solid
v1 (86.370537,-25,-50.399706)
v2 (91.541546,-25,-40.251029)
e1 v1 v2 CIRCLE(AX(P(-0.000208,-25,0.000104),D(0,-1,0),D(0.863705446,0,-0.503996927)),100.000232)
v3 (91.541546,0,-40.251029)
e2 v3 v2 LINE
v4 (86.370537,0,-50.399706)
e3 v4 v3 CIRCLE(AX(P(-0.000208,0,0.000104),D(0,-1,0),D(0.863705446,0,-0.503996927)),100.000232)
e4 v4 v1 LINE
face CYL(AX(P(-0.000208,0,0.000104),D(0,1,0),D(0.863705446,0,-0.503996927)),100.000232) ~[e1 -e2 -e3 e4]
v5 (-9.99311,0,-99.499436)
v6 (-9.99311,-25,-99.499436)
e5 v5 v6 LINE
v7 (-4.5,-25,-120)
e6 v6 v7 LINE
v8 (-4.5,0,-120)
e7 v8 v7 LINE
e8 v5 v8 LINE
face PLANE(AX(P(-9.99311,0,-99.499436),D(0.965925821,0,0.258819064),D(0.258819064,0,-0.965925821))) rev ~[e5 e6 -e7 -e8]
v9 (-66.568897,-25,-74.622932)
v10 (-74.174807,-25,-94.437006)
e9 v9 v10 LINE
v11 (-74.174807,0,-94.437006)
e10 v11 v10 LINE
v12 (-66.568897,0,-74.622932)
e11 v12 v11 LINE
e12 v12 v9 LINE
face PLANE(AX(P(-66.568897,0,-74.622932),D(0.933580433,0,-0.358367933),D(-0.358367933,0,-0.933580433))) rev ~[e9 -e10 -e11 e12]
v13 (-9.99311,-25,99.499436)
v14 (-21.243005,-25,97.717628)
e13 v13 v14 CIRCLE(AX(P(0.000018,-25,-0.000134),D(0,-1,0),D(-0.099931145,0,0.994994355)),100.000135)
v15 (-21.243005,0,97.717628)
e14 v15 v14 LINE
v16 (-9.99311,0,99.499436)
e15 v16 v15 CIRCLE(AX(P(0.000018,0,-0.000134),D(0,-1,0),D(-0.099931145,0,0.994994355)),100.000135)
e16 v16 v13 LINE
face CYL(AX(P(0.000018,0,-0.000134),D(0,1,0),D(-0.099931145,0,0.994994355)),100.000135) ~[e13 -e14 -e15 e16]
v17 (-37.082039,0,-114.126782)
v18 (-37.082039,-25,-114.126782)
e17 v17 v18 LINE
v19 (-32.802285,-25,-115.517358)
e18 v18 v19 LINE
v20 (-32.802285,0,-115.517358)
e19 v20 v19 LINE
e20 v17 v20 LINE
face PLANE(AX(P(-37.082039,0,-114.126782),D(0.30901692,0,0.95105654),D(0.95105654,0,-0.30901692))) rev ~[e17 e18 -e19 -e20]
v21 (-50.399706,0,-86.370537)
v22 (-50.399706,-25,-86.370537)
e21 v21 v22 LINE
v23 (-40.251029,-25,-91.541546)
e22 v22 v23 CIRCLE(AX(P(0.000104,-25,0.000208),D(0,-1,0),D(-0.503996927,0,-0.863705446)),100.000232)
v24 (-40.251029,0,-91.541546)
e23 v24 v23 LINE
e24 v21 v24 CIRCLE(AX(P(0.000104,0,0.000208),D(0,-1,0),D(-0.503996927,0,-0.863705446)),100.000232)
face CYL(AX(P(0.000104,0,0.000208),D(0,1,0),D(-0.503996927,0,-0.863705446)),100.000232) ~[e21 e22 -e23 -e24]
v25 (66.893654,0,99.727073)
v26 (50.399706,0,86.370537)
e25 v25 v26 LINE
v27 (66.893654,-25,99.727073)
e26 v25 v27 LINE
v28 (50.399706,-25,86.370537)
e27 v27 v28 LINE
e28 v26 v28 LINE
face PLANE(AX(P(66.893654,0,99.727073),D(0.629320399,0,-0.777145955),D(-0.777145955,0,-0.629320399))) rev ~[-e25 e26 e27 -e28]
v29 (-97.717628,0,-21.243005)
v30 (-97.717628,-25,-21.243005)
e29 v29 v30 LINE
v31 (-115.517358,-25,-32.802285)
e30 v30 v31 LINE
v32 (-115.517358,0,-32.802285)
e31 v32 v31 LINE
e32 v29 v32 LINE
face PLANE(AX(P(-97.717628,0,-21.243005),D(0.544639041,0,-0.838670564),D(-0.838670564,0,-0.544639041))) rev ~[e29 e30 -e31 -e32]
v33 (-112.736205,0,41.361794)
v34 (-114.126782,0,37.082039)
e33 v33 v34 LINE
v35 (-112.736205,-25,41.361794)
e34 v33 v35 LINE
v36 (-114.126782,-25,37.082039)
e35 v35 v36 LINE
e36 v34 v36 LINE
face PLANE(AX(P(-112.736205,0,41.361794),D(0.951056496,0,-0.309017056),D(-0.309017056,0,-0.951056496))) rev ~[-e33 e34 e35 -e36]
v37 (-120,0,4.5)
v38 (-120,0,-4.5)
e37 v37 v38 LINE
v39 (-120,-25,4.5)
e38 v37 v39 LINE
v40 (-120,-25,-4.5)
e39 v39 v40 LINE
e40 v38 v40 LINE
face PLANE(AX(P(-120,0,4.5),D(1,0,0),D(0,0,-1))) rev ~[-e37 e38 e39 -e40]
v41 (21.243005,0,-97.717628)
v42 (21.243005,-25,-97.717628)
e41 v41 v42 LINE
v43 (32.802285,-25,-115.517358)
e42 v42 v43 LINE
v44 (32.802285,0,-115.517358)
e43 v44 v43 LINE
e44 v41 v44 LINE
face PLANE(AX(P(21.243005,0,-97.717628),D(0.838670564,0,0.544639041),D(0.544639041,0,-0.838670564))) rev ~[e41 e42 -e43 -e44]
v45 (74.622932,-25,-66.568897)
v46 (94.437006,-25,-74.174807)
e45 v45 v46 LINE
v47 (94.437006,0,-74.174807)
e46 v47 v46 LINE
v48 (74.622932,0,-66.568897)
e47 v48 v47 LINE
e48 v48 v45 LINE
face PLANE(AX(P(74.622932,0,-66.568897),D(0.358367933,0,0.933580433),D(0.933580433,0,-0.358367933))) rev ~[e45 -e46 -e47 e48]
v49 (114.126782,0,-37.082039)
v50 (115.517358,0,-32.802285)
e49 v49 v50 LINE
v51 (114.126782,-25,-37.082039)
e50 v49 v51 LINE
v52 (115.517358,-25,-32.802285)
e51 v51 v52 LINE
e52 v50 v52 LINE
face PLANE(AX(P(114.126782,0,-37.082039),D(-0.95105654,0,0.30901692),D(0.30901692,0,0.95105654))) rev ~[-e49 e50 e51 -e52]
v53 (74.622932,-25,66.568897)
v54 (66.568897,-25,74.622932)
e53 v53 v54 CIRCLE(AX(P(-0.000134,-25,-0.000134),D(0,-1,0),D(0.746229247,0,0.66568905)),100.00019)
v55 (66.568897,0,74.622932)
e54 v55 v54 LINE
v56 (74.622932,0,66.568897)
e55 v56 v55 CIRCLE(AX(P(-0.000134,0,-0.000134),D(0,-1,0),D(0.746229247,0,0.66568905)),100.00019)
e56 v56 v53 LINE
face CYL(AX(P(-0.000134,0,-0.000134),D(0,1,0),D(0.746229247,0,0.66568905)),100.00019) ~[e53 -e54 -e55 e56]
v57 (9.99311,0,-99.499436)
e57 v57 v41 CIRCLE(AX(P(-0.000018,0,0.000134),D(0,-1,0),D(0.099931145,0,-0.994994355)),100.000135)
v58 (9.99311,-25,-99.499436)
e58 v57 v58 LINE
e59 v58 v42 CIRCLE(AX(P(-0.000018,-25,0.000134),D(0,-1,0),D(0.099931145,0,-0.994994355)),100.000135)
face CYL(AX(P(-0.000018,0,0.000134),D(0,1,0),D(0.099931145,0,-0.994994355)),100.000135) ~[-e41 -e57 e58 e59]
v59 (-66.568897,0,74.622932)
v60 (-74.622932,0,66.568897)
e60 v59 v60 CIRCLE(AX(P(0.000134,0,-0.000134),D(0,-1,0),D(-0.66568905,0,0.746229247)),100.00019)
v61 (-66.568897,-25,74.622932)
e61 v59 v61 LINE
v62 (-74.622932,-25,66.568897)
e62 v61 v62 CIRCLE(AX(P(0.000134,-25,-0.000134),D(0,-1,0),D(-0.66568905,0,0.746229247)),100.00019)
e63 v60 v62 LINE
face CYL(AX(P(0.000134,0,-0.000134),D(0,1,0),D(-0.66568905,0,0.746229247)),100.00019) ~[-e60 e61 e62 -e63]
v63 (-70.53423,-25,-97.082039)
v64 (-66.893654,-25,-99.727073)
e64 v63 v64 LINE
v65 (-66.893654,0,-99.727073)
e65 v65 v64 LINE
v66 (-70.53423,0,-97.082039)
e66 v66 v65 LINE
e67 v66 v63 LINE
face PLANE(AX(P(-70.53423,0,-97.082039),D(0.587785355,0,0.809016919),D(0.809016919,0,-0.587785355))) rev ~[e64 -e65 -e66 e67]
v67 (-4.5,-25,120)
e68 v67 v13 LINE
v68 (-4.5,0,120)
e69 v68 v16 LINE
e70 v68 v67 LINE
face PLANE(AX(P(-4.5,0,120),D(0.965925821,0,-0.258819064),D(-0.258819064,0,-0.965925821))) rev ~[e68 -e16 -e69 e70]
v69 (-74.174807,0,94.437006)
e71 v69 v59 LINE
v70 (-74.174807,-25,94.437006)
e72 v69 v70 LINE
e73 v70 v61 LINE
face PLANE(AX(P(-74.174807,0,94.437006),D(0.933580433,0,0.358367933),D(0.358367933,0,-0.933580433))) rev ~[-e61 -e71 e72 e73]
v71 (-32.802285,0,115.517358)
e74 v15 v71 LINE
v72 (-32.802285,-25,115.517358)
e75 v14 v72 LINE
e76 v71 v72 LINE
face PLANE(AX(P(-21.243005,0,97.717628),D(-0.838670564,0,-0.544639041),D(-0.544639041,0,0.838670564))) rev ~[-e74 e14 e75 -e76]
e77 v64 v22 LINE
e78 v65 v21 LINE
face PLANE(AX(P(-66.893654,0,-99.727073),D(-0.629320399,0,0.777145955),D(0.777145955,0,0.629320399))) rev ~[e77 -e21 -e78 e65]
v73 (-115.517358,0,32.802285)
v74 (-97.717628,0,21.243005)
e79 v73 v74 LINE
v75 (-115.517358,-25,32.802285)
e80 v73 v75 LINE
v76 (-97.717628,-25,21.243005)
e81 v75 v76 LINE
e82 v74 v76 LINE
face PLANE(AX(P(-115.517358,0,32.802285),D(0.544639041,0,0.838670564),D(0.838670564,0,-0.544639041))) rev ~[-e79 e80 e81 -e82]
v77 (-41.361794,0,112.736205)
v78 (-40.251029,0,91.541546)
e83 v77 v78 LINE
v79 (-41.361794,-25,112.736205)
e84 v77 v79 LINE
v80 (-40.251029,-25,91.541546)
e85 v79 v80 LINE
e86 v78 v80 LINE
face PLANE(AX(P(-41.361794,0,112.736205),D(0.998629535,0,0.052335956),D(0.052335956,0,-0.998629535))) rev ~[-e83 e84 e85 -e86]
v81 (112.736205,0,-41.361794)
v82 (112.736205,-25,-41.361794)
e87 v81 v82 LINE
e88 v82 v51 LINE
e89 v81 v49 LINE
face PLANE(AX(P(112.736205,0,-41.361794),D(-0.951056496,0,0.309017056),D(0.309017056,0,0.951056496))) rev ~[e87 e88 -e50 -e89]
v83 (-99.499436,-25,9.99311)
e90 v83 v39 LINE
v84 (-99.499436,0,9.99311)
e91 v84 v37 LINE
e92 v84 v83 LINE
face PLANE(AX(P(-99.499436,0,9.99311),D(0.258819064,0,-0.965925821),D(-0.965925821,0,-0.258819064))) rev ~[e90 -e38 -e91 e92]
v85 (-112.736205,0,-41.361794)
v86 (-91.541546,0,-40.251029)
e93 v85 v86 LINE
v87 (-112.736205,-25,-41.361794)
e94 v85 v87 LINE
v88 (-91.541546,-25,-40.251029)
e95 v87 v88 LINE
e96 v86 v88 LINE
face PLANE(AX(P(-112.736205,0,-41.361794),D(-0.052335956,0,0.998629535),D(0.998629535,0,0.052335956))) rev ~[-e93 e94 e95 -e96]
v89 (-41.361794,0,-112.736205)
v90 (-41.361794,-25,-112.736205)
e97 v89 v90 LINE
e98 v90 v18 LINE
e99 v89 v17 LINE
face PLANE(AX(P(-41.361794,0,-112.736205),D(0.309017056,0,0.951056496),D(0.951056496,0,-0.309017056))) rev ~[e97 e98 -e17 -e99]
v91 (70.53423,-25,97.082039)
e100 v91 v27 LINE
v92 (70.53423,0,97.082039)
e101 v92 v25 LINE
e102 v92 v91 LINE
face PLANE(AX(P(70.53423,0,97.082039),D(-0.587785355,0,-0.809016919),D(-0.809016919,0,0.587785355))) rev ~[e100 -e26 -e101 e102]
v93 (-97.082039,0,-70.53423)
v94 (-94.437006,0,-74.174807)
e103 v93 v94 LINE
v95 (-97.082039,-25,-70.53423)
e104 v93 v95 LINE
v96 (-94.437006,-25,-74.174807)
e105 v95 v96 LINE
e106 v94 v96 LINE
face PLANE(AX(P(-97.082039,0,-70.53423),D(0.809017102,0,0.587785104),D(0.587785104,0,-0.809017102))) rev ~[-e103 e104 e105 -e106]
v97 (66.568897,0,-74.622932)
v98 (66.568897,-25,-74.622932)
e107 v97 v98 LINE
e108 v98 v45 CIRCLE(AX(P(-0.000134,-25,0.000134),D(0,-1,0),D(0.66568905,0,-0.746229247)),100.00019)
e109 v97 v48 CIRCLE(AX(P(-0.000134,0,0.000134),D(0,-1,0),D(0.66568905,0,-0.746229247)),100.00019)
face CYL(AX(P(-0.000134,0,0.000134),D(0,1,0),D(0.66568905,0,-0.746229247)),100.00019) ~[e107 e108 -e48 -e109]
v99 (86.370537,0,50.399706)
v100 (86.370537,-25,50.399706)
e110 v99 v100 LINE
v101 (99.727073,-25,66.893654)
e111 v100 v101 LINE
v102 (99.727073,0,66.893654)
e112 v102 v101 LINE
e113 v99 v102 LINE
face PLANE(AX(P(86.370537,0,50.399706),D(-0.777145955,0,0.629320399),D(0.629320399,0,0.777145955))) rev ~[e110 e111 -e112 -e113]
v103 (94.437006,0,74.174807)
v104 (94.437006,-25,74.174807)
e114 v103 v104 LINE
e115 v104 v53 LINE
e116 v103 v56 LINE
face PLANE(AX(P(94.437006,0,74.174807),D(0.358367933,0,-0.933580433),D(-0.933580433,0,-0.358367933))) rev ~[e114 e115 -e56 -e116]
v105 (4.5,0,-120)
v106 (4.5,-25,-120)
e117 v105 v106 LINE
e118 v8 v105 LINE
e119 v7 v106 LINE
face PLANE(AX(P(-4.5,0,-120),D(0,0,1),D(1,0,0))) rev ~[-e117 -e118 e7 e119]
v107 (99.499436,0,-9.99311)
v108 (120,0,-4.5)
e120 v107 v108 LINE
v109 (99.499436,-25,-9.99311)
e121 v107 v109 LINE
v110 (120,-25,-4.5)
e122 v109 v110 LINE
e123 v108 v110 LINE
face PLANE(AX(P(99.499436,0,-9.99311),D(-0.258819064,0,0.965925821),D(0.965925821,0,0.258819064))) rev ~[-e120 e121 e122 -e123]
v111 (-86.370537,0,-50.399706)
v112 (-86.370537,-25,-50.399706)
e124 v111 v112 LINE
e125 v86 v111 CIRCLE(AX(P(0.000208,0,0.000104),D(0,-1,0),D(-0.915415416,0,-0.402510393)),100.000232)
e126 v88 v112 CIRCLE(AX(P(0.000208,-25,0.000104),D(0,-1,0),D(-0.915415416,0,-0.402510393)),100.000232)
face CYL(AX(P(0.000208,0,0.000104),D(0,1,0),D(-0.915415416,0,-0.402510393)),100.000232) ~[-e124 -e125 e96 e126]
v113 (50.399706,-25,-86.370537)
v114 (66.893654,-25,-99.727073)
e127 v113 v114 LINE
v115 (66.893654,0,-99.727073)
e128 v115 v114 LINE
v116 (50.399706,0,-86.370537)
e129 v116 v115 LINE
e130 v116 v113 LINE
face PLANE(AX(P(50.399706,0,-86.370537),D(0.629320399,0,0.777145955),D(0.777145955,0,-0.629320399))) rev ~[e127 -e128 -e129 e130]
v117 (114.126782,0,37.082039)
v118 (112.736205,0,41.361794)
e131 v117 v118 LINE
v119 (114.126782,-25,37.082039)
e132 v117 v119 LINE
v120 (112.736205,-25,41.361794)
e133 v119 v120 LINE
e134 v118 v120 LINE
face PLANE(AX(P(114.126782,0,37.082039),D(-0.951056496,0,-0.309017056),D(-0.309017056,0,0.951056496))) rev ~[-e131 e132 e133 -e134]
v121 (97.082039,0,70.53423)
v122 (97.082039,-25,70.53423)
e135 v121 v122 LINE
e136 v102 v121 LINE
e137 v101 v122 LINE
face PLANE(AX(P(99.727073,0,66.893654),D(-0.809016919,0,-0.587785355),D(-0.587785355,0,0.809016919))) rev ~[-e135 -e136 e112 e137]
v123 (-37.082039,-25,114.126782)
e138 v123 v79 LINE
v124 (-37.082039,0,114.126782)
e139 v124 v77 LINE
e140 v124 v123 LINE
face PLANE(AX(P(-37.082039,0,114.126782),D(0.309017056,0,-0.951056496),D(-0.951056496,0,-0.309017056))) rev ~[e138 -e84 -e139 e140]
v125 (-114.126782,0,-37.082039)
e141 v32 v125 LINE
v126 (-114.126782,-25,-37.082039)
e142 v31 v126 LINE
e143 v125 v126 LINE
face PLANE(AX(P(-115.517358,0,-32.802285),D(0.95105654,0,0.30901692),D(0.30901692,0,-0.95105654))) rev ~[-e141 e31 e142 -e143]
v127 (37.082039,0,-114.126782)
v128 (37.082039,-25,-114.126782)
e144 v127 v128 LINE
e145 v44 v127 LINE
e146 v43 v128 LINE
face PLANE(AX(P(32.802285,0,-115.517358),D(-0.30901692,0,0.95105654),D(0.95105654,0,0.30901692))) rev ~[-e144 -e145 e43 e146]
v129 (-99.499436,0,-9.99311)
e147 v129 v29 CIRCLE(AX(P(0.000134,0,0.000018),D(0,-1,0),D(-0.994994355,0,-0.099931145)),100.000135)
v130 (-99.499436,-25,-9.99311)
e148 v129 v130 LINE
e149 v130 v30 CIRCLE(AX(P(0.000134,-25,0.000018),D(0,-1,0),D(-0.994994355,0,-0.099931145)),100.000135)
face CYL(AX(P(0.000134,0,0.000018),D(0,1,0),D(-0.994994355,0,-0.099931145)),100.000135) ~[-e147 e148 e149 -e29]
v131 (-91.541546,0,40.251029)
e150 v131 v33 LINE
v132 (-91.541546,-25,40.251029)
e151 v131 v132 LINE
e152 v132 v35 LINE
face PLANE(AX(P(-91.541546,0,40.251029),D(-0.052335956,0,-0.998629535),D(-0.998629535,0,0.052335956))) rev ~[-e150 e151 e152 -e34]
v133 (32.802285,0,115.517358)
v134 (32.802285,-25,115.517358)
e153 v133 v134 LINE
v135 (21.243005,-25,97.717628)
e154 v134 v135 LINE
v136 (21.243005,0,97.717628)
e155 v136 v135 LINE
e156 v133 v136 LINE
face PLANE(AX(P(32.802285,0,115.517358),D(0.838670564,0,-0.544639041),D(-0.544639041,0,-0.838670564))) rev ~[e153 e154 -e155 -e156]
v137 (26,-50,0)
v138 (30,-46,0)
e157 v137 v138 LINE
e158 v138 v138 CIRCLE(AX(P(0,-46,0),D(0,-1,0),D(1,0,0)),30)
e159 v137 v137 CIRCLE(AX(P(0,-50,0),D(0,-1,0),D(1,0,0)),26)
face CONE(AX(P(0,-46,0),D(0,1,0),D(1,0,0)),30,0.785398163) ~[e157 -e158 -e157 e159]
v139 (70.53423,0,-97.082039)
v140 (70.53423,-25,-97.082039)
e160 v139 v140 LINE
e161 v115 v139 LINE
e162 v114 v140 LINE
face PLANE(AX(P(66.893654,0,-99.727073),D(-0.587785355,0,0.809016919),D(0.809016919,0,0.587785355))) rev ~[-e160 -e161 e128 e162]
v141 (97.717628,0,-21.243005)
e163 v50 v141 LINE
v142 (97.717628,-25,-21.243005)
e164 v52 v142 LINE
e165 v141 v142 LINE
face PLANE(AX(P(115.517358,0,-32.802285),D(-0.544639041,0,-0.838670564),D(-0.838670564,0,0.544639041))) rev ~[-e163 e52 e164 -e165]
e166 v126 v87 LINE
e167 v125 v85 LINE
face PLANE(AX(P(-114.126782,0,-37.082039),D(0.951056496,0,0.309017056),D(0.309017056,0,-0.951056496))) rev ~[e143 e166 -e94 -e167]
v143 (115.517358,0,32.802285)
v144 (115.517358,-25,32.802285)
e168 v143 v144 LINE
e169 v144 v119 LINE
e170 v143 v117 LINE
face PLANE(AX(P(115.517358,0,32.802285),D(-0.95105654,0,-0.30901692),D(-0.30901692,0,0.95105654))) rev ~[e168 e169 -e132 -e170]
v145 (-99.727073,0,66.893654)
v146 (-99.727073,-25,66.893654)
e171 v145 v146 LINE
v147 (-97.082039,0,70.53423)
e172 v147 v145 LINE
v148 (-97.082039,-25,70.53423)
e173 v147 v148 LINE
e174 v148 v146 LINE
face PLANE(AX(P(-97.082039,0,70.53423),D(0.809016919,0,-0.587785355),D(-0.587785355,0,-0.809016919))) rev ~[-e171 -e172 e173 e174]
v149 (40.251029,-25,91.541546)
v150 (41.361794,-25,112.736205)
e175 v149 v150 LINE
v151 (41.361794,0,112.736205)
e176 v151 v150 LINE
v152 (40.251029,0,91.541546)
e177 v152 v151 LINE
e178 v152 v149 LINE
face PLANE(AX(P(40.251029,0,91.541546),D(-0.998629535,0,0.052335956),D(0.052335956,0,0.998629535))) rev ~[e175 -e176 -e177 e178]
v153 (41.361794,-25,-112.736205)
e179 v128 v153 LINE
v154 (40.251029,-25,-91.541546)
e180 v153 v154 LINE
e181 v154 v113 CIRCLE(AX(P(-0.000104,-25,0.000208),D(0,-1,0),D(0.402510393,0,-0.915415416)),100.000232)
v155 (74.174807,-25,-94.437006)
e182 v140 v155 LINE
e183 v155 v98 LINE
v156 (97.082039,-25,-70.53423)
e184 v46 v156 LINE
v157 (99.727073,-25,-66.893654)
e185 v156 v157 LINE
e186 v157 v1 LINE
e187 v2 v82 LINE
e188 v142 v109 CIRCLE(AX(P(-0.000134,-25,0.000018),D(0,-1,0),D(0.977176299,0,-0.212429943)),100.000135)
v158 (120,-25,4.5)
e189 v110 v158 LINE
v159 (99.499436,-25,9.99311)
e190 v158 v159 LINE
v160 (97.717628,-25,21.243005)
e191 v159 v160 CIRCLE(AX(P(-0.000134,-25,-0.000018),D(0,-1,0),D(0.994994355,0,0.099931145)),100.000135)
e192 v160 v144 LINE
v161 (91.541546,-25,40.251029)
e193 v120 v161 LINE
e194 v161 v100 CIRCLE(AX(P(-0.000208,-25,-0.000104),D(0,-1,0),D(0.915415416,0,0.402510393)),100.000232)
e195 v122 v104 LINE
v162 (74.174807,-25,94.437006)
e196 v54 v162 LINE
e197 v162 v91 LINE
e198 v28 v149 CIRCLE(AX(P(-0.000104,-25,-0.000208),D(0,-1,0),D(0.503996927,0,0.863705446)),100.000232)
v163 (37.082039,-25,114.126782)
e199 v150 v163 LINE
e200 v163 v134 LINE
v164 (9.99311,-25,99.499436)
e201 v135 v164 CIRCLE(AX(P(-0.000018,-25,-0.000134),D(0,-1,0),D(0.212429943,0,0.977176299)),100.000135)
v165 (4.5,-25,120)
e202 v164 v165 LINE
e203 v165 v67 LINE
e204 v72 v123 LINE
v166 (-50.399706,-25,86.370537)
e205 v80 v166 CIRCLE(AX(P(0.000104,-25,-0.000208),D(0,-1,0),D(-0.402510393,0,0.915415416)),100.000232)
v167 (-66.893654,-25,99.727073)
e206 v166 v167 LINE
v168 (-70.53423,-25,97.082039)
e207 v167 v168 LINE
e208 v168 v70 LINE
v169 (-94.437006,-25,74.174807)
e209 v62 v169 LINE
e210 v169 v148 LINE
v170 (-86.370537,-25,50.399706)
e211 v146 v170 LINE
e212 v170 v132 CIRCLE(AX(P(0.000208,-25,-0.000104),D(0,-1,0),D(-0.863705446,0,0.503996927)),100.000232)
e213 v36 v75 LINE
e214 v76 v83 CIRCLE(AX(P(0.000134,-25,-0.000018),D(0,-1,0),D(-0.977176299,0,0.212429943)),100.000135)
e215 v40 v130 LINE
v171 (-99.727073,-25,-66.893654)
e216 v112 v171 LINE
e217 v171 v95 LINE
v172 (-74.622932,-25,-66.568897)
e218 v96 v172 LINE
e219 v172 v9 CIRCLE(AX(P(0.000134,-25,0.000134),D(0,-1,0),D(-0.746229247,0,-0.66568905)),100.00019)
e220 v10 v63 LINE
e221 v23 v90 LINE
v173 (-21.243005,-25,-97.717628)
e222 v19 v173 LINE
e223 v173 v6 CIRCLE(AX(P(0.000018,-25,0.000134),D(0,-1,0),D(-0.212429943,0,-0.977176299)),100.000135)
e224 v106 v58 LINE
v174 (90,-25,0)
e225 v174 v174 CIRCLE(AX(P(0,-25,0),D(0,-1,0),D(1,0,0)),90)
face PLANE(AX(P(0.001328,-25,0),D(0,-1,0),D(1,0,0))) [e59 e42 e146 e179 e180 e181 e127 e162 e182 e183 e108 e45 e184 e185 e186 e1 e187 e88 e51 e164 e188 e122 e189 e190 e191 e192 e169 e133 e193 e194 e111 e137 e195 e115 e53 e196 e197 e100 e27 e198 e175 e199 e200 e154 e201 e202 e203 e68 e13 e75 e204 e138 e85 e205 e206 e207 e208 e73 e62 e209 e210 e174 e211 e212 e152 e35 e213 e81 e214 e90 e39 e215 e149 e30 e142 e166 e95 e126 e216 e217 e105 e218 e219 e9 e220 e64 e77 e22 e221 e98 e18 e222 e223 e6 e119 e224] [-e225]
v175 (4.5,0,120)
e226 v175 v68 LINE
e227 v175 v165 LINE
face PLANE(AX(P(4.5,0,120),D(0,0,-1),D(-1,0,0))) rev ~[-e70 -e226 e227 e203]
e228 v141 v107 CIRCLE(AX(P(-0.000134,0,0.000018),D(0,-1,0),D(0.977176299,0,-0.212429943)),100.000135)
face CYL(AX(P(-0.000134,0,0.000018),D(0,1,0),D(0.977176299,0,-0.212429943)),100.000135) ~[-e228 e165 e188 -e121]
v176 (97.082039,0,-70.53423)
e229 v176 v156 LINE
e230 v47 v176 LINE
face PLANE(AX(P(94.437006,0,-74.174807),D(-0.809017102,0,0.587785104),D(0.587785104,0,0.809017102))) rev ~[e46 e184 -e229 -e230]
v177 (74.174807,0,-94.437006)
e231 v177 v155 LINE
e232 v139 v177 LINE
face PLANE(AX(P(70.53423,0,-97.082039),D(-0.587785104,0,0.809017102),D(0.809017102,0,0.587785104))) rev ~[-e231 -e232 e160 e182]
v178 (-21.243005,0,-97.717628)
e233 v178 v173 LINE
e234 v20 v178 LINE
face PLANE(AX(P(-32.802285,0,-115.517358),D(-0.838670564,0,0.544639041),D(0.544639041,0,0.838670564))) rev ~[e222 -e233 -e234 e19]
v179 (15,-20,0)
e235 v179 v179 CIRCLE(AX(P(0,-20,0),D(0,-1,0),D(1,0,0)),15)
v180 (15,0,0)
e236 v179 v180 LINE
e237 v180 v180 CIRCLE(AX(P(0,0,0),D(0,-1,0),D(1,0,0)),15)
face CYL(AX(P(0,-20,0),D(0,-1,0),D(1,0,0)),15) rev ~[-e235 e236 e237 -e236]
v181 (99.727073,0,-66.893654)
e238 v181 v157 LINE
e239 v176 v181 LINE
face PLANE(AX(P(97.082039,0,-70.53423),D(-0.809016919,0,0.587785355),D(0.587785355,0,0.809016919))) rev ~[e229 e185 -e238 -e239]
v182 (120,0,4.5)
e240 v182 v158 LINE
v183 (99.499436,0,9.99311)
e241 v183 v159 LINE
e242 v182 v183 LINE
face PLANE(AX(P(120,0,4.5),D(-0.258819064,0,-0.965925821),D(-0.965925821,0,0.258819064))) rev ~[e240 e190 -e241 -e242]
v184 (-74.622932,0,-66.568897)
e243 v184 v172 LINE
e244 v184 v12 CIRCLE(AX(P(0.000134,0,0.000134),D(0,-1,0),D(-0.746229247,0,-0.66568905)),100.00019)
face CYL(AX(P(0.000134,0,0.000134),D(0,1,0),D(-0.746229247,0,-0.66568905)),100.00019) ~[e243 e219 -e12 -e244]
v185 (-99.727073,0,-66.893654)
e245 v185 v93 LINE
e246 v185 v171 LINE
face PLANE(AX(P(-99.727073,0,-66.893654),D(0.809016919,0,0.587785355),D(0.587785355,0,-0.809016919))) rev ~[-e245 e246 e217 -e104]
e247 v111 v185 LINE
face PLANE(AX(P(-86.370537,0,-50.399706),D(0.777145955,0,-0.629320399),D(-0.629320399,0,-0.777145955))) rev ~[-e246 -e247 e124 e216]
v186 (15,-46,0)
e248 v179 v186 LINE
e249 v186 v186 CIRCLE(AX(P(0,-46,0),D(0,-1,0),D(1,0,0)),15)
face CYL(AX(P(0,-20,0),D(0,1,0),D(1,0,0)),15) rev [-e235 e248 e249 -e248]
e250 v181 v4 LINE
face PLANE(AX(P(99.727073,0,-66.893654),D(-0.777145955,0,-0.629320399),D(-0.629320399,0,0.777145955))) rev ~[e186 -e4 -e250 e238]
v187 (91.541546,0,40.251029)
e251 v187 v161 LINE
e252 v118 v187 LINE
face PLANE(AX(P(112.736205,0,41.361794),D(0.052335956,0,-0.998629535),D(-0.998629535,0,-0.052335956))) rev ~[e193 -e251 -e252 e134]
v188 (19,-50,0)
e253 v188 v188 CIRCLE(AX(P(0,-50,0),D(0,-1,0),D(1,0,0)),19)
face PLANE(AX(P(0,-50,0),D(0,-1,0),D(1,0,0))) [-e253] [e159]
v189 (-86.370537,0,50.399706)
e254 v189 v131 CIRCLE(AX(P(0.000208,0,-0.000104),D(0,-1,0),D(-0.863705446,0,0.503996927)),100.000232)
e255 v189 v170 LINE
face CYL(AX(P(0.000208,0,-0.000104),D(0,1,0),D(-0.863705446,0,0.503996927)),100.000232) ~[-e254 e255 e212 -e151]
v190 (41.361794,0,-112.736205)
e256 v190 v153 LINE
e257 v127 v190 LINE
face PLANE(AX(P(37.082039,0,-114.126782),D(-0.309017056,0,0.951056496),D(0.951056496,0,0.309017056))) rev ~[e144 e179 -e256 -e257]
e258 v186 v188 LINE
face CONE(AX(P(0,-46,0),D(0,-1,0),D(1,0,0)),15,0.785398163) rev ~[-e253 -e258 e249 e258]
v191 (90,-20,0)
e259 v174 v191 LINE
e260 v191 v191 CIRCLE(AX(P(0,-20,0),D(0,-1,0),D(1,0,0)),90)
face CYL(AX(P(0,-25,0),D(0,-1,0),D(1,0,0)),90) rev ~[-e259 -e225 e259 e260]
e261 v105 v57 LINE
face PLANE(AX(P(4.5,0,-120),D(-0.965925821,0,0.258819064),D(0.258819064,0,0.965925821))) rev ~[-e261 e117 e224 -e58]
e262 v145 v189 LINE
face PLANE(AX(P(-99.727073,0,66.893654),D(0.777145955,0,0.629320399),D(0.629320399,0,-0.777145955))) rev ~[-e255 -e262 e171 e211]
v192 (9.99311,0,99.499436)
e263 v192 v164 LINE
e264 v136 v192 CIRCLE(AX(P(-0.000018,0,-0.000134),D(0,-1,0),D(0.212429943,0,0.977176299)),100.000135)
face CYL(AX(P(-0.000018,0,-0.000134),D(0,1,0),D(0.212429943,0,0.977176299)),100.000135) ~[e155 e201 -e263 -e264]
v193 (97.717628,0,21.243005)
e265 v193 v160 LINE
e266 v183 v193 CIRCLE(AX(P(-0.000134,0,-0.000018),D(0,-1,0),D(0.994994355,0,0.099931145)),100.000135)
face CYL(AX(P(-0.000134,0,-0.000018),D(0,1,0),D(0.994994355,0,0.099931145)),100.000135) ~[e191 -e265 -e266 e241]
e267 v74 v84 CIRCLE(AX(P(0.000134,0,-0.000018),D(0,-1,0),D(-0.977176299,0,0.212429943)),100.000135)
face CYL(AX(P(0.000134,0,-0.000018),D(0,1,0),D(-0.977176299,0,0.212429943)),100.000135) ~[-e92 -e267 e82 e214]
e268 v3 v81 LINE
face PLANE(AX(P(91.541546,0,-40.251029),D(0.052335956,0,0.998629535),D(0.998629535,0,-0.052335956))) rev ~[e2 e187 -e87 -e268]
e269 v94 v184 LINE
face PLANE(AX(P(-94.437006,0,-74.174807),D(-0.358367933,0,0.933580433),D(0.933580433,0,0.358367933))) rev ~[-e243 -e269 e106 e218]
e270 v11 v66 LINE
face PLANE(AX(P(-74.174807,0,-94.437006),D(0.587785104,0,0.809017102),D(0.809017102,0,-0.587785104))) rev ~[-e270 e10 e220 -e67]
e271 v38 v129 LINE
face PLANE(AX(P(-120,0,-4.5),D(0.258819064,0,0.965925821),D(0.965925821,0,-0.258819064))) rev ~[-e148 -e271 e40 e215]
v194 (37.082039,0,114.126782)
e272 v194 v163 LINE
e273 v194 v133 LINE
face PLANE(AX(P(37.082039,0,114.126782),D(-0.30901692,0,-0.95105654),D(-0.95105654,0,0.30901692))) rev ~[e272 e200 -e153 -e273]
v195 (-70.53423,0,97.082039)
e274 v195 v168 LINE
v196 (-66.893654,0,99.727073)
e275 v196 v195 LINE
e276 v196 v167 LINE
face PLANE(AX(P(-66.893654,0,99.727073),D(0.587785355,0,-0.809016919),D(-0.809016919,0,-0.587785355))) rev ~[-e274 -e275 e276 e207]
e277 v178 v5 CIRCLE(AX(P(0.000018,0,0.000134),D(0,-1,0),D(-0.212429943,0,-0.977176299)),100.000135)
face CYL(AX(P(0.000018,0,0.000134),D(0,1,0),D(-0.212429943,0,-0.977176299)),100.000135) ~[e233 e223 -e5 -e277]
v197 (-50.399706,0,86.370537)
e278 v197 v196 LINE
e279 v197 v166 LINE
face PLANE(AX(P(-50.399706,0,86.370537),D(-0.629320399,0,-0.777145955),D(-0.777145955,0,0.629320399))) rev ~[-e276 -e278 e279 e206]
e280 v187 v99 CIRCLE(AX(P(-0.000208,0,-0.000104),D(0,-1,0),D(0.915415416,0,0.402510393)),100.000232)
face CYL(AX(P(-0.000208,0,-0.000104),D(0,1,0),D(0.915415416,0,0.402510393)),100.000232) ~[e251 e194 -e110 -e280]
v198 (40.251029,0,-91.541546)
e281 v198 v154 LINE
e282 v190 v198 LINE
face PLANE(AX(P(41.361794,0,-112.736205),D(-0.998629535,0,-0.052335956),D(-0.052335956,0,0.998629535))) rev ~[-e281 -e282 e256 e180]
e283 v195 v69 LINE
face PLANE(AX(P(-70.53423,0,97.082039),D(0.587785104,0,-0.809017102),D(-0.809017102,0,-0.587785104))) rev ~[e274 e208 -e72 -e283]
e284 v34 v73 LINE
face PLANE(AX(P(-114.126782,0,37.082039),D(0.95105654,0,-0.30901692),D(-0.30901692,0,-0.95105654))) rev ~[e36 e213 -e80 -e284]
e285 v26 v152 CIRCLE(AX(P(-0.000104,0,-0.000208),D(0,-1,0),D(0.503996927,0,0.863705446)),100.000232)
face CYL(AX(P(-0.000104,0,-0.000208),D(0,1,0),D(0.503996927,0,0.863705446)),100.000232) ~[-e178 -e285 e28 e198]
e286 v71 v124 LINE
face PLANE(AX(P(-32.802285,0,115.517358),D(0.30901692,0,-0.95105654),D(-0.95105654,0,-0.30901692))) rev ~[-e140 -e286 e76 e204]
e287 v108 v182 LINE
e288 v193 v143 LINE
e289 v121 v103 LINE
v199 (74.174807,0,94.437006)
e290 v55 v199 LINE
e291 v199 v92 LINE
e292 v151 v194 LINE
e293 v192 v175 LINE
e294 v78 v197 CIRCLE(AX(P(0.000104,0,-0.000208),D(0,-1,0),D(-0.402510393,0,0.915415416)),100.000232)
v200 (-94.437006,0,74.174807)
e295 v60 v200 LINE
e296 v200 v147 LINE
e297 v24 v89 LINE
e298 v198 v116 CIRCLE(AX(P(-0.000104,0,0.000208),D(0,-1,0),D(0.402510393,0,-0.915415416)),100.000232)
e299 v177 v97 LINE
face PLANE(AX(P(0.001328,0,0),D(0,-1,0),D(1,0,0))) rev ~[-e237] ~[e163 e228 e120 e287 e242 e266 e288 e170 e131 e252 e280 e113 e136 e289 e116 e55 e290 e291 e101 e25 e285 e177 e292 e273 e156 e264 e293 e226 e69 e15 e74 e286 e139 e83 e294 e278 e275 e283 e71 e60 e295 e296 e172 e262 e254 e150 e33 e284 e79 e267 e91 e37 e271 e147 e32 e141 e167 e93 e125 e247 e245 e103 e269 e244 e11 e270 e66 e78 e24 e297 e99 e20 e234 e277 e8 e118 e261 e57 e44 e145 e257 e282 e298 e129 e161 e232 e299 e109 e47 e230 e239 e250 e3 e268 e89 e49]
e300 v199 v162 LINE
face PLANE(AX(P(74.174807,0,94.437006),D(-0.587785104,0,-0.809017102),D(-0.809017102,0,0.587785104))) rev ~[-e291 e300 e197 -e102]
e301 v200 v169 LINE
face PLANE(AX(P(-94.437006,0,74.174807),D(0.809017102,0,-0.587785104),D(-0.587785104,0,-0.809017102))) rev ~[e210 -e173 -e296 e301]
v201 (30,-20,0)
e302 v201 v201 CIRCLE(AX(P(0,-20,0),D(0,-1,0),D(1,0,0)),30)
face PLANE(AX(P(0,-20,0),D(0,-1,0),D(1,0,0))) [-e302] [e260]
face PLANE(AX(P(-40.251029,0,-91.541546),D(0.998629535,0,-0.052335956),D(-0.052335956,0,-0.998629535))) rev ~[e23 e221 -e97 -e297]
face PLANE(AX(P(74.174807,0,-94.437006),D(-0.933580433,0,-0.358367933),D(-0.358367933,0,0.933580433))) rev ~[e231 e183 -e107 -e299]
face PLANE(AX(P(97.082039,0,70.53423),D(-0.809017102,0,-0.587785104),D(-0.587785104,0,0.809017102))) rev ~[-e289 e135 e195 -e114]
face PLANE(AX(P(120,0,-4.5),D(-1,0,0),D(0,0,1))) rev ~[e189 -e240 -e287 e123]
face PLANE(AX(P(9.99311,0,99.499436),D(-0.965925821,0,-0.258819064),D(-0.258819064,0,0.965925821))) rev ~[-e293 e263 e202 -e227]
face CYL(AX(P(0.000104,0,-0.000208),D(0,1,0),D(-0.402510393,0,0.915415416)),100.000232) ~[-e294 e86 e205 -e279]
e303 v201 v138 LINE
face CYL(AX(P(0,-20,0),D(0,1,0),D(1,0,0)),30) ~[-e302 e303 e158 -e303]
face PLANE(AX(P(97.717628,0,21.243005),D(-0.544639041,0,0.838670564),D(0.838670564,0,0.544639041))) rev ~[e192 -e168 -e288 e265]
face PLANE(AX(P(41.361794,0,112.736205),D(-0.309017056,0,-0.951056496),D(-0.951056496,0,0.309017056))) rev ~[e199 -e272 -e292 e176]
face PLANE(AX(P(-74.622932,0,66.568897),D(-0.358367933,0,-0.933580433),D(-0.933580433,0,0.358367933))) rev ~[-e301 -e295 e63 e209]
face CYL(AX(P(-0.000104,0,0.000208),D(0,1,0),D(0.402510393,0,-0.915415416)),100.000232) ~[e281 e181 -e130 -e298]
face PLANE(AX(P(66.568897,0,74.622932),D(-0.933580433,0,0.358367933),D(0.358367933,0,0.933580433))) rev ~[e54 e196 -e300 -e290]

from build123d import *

# Parameters (mm, degrees)
F1_DEPTH  = 25
F2_R      = 90
F3_DEPTH  = 5
F4_R      = 30
F4_R_2    = 15
F5_DEPTH  = 30
F5_FACE_R = 15
F6_DEPTH  = 100
F7_SIZE   = 4


with BuildPart() as f1:
    # F0 (on Front) → F1 (new body)
    with BuildSketch(Plane.XZ):
        with BuildLine():
            ThreePointArc((99.499436, -9.99311), (99.874781, -5.002819), (100, 0))
            ThreePointArc((100, 0), (99.874781, 5.002819), (99.499436, 9.99311))
            ThreePointArc((99.499436, 9.99311), (98.768834, 15.643447), (97.717628, 21.243005))
            ThreePointArc((97.717628, 21.243005), (95.105652, 30.901699), (91.541546, 40.251029))
            ThreePointArc((91.541546, 40.251029), (89.100652, 45.39905), (86.370537, 50.399706))
            ThreePointArc((86.370537, 50.399706), (80.901699, 58.778525), (74.622932, 66.568897))
            ThreePointArc((74.622932, 66.568897), (70.710678, 70.710678), (66.568897, 74.622932))
            ThreePointArc((66.568897, 74.622932), (58.778525, 80.901699), (50.399706, 86.370537))
            ThreePointArc((50.399706, 86.370537), (45.39905, 89.100652), (40.251029, 91.541546))
            ThreePointArc((40.251029, 91.541546), (30.901699, 95.105652), (21.243005, 97.717628))
            ThreePointArc((21.243005, 97.717628), (15.643447, 98.768834), (9.99311, 99.499436))
            ThreePointArc((9.99311, 99.499436), (0, 100), (-9.99311, 99.499436))
            ThreePointArc((-9.99311, 99.499436), (-15.643447, 98.768834), (-21.243005, 97.717628))
            ThreePointArc((-21.243005, 97.717628), (-30.901699, 95.105652), (-40.251029, 91.541546))
            ThreePointArc((-40.251029, 91.541546), (-45.39905, 89.100652), (-50.399706, 86.370537))
            ThreePointArc((-50.399706, 86.370537), (-58.778525, 80.901699), (-66.568897, 74.622932))
            ThreePointArc((-66.568897, 74.622932), (-70.710678, 70.710678), (-74.622932, 66.568897))
            ThreePointArc((-74.622932, 66.568897), (-80.901699, 58.778525), (-86.370537, 50.399706))
            ThreePointArc((-86.370537, 50.399706), (-89.100652, 45.39905), (-91.541546, 40.251029))
            ThreePointArc((-91.541546, 40.251029), (-95.105652, 30.901699), (-97.717628, 21.243005))
            ThreePointArc((-97.717628, 21.243005), (-98.768834, 15.643447), (-99.499436, 9.99311))
            ThreePointArc((-99.499436, 9.99311), (-100, 0), (-99.499436, -9.99311))
            ThreePointArc((-99.499436, -9.99311), (-98.768834, -15.643447), (-97.717628, -21.243005))
            ThreePointArc((-97.717628, -21.243005), (-95.105652, -30.901699), (-91.541546, -40.251029))
            ThreePointArc((-91.541546, -40.251029), (-89.100652, -45.39905), (-86.370537, -50.399706))
            ThreePointArc((-86.370537, -50.399706), (-80.901699, -58.778525), (-74.622932, -66.568897))
            ThreePointArc((-74.622932, -66.568897), (-70.710678, -70.710678), (-66.568897, -74.622932))
            ThreePointArc((-66.568897, -74.622932), (-58.778525, -80.901699), (-50.399706, -86.370537))
            ThreePointArc((-50.399706, -86.370537), (-45.39905, -89.100652), (-40.251029, -91.541546))
            ThreePointArc((-40.251029, -91.541546), (-30.901699, -95.105652), (-21.243005, -97.717628))
            ThreePointArc((-21.243005, -97.717628), (-15.643447, -98.768834), (-9.99311, -99.499436))
            ThreePointArc((-9.99311, -99.499436), (0, -100), (9.99311, -99.499436))
            ThreePointArc((9.99311, -99.499436), (15.643447, -98.768834), (21.243005, -97.717628))
            ThreePointArc((21.243005, -97.717628), (30.901699, -95.105652), (40.251029, -91.541546))
            ThreePointArc((40.251029, -91.541546), (45.39905, -89.100652), (50.399706, -86.370537))
            ThreePointArc((50.399706, -86.370537), (58.778525, -80.901699), (66.568897, -74.622932))
            ThreePointArc((66.568897, -74.622932), (70.710678, -70.710678), (74.622932, -66.568897))
            ThreePointArc((74.622932, -66.568897), (80.901699, -58.778525), (86.370537, -50.399706))
            ThreePointArc((86.370537, -50.399706), (89.100652, -45.39905), (91.541546, -40.251029))
            ThreePointArc((91.541546, -40.251029), (95.105652, -30.901699), (97.717628, -21.243005))
            ThreePointArc((97.717628, -21.243005), (98.768834, -15.643447), (99.499436, -9.99311))
        make_face()
        with BuildLine():
            ThreePointArc((-99.499436, -9.99311), (-100, 0), (-99.499436, 9.99311))
            Line((-99.499436, 9.99311), (-120, 4.5))
            Line((-120, 4.5), (-120, 0))
            Line((-120, 0), (-120, -4.5))
            Line((-120, -4.5), (-99.499436, -9.99311))
        make_face()
        with BuildLine():
            ThreePointArc((-97.717628, 21.243005), (-95.105652, 30.901699), (-91.541546, 40.251029))
            Line((-91.541546, 40.251029), (-112.736205, 41.361794))
            Line((-112.736205, 41.361794), (-114.126782, 37.082039))
            Line((-114.126782, 37.082039), (-115.517358, 32.802285))
            Line((-115.517358, 32.802285), (-97.717628, 21.243005))
        make_face()
        with BuildLine():
            ThreePointArc((-86.370537, 50.399706), (-80.901699, 58.778525), (-74.622932, 66.568897))
            Line((-74.622932, 66.568897), (-94.437006, 74.174807))
            Line((-94.437006, 74.174807), (-97.082039, 70.53423))
            Line((-97.082039, 70.53423), (-99.727073, 66.893654))
            Line((-99.727073, 66.893654), (-86.370537, 50.399706))
        make_face()
        with BuildLine():
            ThreePointArc((-66.568897, 74.622932), (-58.778525, 80.901699), (-50.399706, 86.370537))
            Line((-50.399706, 86.370537), (-66.893654, 99.727073))
            Line((-66.893654, 99.727073), (-70.53423, 97.082039))
            Line((-70.53423, 97.082039), (-74.174807, 94.437006))
            Line((-74.174807, 94.437006), (-66.568897, 74.622932))
        make_face()
        with BuildLine():
            ThreePointArc((-40.251029, 91.541546), (-30.901699, 95.105652), (-21.243005, 97.717628))
            Line((-21.243005, 97.717628), (-32.802285, 115.517358))
            Line((-32.802285, 115.517358), (-37.082039, 114.126782))
            Line((-37.082039, 114.126782), (-41.361794, 112.736205))
            Line((-41.361794, 112.736205), (-40.251029, 91.541546))
        make_face()
        with BuildLine():
            ThreePointArc((-9.99311, 99.499436), (0, 100), (9.99311, 99.499436))
            Line((9.99311, 99.499436), (4.5, 120))
            Line((4.5, 120), (0, 120))
            Line((0, 120), (-4.5, 120))
            Line((-4.5, 120), (-9.99311, 99.499436))
        make_face()
        with BuildLine():
            ThreePointArc((21.243005, 97.717628), (30.901699, 95.105652), (40.251029, 91.541546))
            Line((40.251029, 91.541546), (41.361794, 112.736205))
            Line((41.361794, 112.736205), (37.082039, 114.126782))
            Line((37.082039, 114.126782), (32.802285, 115.517358))
            Line((32.802285, 115.517358), (21.243005, 97.717628))
        make_face()
        with BuildLine():
            ThreePointArc((50.399706, 86.370537), (58.778525, 80.901699), (66.568897, 74.622932))
            Line((66.568897, 74.622932), (74.174807, 94.437006))
            Line((74.174807, 94.437006), (70.53423, 97.082039))
            Line((70.53423, 97.082039), (66.893654, 99.727073))
            Line((66.893654, 99.727073), (50.399706, 86.370537))
        make_face()
        with BuildLine():
            ThreePointArc((74.622932, 66.568897), (80.901699, 58.778525), (86.370537, 50.399706))
            Line((86.370537, 50.399706), (99.727073, 66.893654))
            Line((99.727073, 66.893654), (97.082039, 70.53423))
            Line((97.082039, 70.53423), (94.437006, 74.174807))
            Line((94.437006, 74.174807), (74.622932, 66.568897))
        make_face()
        with BuildLine():
            ThreePointArc((91.541546, 40.251029), (95.105652, 30.901699), (97.717628, 21.243005))
            Line((97.717628, 21.243005), (115.517358, 32.802285))
            Line((115.517358, 32.802285), (114.126782, 37.082039))
            Line((114.126782, 37.082039), (112.736205, 41.361794))
            Line((112.736205, 41.361794), (91.541546, 40.251029))
        make_face()
        with BuildLine():
            ThreePointArc((99.499436, 9.99311), (99.874781, 5.002819), (100, 0))
            ThreePointArc((100, 0), (99.874781, -5.002819), (99.499436, -9.99311))
            Line((99.499436, -9.99311), (120, -4.5))
            Line((120, -4.5), (120, 0))
            Line((120, 0), (120, 4.5))
            Line((120, 4.5), (99.499436, 9.99311))
        make_face()
        with BuildLine():
            Line((115.517358, -32.802285), (97.717628, -21.243005))
            ThreePointArc((97.717628, -21.243005), (95.105652, -30.901699), (91.541546, -40.251029))
            Line((91.541546, -40.251029), (112.736205, -41.361794))
            Line((112.736205, -41.361794), (114.126782, -37.082039))
            Line((114.126782, -37.082039), (115.517358, -32.802285))
        make_face()
        with BuildLine():
            Line((99.727073, -66.893654), (86.370537, -50.399706))
            ThreePointArc((86.370537, -50.399706), (80.901699, -58.778525), (74.622932, -66.568897))
            Line((74.622932, -66.568897), (94.437006, -74.174807))
            Line((94.437006, -74.174807), (97.082039, -70.53423))
            Line((97.082039, -70.53423), (99.727073, -66.893654))
        make_face()
        with BuildLine():
            Line((74.174807, -94.437006), (66.568897, -74.622932))
            ThreePointArc((66.568897, -74.622932), (58.778525, -80.901699), (50.399706, -86.370537))
            Line((50.399706, -86.370537), (66.893654, -99.727073))
            Line((66.893654, -99.727073), (70.53423, -97.082039))
            Line((70.53423, -97.082039), (74.174807, -94.437006))
        make_face()
        with BuildLine():
            Line((41.361794, -112.736205), (40.251029, -91.541546))
            ThreePointArc((40.251029, -91.541546), (30.901699, -95.105652), (21.243005, -97.717628))
            Line((21.243005, -97.717628), (32.802285, -115.517358))
            Line((32.802285, -115.517358), (37.082039, -114.126782))
            Line((37.082039, -114.126782), (41.361794, -112.736205))
        make_face()
        with BuildLine():
            Line((4.5, -120), (9.99311, -99.499436))
            ThreePointArc((9.99311, -99.499436), (0, -100), (-9.99311, -99.499436))
            Line((-9.99311, -99.499436), (-4.5, -120))
            Line((-4.5, -120), (0, -120))
            Line((0, -120), (4.5, -120))
        make_face()
        with BuildLine():
            Line((-32.802285, -115.517358), (-21.243005, -97.717628))
            ThreePointArc((-21.243005, -97.717628), (-30.901699, -95.105652), (-40.251029, -91.541546))
            Line((-40.251029, -91.541546), (-41.361794, -112.736205))
            Line((-41.361794, -112.736205), (-37.082039, -114.126782))
            Line((-37.082039, -114.126782), (-32.802285, -115.517358))
        make_face()
        with BuildLine():
            Line((-66.893654, -99.727073), (-50.399706, -86.370537))
            ThreePointArc((-50.399706, -86.370537), (-58.778525, -80.901699), (-66.568897, -74.622932))
            Line((-66.568897, -74.622932), (-74.174807, -94.437006))
            Line((-74.174807, -94.437006), (-70.53423, -97.082039))
            Line((-70.53423, -97.082039), (-66.893654, -99.727073))
        make_face()
        with BuildLine():
            Line((-94.437006, -74.174807), (-74.622932, -66.568897))
            ThreePointArc((-74.622932, -66.568897), (-80.901699, -58.778525), (-86.370537, -50.399706))
            Line((-86.370537, -50.399706), (-99.727073, -66.893654))
            Line((-99.727073, -66.893654), (-97.082039, -70.53423))
            Line((-97.082039, -70.53423), (-94.437006, -74.174807))
        make_face()
        with BuildLine():
            Line((-112.736205, -41.361794), (-91.541546, -40.251029))
            ThreePointArc((-91.541546, -40.251029), (-95.105652, -30.901699), (-97.717628, -21.243005))
            Line((-97.717628, -21.243005), (-115.517358, -32.802285))
            Line((-115.517358, -32.802285), (-114.126782, -37.082039))
            Line((-114.126782, -37.082039), (-112.736205, -41.361794))
        make_face()
    extrude(amount=F1_DEPTH)

    # F2 (on face) → F3 (cut)
    with BuildSketch(Plane.XZ.offset(25)):
        Circle(F2_R)
    extrude(amount=-F3_DEPTH, mode=Mode.SUBTRACT)

    # F4 (on face) → F5 (join)
    with BuildSketch(Plane.XZ.offset(20)):
        Circle(F4_R)
        Circle(F4_R_2, mode=Mode.SUBTRACT)
    extrude(amount=F5_DEPTH)

    # F5_face (on face) → F6 (cut)
    with BuildSketch(Plane.XZ.offset(20)):
        Circle(F5_FACE_R)
    extrude(amount=-F6_DEPTH, mode=Mode.SUBTRACT)

    # F7
    f7_edges = [f1.edges().sort_by_distance(p)[0] for p in [
        (-30, -50, 0),
        (-15, -50, 0),
    ]]
    chamfer(f7_edges, length=F7_SIZE)


solid = f1.part
